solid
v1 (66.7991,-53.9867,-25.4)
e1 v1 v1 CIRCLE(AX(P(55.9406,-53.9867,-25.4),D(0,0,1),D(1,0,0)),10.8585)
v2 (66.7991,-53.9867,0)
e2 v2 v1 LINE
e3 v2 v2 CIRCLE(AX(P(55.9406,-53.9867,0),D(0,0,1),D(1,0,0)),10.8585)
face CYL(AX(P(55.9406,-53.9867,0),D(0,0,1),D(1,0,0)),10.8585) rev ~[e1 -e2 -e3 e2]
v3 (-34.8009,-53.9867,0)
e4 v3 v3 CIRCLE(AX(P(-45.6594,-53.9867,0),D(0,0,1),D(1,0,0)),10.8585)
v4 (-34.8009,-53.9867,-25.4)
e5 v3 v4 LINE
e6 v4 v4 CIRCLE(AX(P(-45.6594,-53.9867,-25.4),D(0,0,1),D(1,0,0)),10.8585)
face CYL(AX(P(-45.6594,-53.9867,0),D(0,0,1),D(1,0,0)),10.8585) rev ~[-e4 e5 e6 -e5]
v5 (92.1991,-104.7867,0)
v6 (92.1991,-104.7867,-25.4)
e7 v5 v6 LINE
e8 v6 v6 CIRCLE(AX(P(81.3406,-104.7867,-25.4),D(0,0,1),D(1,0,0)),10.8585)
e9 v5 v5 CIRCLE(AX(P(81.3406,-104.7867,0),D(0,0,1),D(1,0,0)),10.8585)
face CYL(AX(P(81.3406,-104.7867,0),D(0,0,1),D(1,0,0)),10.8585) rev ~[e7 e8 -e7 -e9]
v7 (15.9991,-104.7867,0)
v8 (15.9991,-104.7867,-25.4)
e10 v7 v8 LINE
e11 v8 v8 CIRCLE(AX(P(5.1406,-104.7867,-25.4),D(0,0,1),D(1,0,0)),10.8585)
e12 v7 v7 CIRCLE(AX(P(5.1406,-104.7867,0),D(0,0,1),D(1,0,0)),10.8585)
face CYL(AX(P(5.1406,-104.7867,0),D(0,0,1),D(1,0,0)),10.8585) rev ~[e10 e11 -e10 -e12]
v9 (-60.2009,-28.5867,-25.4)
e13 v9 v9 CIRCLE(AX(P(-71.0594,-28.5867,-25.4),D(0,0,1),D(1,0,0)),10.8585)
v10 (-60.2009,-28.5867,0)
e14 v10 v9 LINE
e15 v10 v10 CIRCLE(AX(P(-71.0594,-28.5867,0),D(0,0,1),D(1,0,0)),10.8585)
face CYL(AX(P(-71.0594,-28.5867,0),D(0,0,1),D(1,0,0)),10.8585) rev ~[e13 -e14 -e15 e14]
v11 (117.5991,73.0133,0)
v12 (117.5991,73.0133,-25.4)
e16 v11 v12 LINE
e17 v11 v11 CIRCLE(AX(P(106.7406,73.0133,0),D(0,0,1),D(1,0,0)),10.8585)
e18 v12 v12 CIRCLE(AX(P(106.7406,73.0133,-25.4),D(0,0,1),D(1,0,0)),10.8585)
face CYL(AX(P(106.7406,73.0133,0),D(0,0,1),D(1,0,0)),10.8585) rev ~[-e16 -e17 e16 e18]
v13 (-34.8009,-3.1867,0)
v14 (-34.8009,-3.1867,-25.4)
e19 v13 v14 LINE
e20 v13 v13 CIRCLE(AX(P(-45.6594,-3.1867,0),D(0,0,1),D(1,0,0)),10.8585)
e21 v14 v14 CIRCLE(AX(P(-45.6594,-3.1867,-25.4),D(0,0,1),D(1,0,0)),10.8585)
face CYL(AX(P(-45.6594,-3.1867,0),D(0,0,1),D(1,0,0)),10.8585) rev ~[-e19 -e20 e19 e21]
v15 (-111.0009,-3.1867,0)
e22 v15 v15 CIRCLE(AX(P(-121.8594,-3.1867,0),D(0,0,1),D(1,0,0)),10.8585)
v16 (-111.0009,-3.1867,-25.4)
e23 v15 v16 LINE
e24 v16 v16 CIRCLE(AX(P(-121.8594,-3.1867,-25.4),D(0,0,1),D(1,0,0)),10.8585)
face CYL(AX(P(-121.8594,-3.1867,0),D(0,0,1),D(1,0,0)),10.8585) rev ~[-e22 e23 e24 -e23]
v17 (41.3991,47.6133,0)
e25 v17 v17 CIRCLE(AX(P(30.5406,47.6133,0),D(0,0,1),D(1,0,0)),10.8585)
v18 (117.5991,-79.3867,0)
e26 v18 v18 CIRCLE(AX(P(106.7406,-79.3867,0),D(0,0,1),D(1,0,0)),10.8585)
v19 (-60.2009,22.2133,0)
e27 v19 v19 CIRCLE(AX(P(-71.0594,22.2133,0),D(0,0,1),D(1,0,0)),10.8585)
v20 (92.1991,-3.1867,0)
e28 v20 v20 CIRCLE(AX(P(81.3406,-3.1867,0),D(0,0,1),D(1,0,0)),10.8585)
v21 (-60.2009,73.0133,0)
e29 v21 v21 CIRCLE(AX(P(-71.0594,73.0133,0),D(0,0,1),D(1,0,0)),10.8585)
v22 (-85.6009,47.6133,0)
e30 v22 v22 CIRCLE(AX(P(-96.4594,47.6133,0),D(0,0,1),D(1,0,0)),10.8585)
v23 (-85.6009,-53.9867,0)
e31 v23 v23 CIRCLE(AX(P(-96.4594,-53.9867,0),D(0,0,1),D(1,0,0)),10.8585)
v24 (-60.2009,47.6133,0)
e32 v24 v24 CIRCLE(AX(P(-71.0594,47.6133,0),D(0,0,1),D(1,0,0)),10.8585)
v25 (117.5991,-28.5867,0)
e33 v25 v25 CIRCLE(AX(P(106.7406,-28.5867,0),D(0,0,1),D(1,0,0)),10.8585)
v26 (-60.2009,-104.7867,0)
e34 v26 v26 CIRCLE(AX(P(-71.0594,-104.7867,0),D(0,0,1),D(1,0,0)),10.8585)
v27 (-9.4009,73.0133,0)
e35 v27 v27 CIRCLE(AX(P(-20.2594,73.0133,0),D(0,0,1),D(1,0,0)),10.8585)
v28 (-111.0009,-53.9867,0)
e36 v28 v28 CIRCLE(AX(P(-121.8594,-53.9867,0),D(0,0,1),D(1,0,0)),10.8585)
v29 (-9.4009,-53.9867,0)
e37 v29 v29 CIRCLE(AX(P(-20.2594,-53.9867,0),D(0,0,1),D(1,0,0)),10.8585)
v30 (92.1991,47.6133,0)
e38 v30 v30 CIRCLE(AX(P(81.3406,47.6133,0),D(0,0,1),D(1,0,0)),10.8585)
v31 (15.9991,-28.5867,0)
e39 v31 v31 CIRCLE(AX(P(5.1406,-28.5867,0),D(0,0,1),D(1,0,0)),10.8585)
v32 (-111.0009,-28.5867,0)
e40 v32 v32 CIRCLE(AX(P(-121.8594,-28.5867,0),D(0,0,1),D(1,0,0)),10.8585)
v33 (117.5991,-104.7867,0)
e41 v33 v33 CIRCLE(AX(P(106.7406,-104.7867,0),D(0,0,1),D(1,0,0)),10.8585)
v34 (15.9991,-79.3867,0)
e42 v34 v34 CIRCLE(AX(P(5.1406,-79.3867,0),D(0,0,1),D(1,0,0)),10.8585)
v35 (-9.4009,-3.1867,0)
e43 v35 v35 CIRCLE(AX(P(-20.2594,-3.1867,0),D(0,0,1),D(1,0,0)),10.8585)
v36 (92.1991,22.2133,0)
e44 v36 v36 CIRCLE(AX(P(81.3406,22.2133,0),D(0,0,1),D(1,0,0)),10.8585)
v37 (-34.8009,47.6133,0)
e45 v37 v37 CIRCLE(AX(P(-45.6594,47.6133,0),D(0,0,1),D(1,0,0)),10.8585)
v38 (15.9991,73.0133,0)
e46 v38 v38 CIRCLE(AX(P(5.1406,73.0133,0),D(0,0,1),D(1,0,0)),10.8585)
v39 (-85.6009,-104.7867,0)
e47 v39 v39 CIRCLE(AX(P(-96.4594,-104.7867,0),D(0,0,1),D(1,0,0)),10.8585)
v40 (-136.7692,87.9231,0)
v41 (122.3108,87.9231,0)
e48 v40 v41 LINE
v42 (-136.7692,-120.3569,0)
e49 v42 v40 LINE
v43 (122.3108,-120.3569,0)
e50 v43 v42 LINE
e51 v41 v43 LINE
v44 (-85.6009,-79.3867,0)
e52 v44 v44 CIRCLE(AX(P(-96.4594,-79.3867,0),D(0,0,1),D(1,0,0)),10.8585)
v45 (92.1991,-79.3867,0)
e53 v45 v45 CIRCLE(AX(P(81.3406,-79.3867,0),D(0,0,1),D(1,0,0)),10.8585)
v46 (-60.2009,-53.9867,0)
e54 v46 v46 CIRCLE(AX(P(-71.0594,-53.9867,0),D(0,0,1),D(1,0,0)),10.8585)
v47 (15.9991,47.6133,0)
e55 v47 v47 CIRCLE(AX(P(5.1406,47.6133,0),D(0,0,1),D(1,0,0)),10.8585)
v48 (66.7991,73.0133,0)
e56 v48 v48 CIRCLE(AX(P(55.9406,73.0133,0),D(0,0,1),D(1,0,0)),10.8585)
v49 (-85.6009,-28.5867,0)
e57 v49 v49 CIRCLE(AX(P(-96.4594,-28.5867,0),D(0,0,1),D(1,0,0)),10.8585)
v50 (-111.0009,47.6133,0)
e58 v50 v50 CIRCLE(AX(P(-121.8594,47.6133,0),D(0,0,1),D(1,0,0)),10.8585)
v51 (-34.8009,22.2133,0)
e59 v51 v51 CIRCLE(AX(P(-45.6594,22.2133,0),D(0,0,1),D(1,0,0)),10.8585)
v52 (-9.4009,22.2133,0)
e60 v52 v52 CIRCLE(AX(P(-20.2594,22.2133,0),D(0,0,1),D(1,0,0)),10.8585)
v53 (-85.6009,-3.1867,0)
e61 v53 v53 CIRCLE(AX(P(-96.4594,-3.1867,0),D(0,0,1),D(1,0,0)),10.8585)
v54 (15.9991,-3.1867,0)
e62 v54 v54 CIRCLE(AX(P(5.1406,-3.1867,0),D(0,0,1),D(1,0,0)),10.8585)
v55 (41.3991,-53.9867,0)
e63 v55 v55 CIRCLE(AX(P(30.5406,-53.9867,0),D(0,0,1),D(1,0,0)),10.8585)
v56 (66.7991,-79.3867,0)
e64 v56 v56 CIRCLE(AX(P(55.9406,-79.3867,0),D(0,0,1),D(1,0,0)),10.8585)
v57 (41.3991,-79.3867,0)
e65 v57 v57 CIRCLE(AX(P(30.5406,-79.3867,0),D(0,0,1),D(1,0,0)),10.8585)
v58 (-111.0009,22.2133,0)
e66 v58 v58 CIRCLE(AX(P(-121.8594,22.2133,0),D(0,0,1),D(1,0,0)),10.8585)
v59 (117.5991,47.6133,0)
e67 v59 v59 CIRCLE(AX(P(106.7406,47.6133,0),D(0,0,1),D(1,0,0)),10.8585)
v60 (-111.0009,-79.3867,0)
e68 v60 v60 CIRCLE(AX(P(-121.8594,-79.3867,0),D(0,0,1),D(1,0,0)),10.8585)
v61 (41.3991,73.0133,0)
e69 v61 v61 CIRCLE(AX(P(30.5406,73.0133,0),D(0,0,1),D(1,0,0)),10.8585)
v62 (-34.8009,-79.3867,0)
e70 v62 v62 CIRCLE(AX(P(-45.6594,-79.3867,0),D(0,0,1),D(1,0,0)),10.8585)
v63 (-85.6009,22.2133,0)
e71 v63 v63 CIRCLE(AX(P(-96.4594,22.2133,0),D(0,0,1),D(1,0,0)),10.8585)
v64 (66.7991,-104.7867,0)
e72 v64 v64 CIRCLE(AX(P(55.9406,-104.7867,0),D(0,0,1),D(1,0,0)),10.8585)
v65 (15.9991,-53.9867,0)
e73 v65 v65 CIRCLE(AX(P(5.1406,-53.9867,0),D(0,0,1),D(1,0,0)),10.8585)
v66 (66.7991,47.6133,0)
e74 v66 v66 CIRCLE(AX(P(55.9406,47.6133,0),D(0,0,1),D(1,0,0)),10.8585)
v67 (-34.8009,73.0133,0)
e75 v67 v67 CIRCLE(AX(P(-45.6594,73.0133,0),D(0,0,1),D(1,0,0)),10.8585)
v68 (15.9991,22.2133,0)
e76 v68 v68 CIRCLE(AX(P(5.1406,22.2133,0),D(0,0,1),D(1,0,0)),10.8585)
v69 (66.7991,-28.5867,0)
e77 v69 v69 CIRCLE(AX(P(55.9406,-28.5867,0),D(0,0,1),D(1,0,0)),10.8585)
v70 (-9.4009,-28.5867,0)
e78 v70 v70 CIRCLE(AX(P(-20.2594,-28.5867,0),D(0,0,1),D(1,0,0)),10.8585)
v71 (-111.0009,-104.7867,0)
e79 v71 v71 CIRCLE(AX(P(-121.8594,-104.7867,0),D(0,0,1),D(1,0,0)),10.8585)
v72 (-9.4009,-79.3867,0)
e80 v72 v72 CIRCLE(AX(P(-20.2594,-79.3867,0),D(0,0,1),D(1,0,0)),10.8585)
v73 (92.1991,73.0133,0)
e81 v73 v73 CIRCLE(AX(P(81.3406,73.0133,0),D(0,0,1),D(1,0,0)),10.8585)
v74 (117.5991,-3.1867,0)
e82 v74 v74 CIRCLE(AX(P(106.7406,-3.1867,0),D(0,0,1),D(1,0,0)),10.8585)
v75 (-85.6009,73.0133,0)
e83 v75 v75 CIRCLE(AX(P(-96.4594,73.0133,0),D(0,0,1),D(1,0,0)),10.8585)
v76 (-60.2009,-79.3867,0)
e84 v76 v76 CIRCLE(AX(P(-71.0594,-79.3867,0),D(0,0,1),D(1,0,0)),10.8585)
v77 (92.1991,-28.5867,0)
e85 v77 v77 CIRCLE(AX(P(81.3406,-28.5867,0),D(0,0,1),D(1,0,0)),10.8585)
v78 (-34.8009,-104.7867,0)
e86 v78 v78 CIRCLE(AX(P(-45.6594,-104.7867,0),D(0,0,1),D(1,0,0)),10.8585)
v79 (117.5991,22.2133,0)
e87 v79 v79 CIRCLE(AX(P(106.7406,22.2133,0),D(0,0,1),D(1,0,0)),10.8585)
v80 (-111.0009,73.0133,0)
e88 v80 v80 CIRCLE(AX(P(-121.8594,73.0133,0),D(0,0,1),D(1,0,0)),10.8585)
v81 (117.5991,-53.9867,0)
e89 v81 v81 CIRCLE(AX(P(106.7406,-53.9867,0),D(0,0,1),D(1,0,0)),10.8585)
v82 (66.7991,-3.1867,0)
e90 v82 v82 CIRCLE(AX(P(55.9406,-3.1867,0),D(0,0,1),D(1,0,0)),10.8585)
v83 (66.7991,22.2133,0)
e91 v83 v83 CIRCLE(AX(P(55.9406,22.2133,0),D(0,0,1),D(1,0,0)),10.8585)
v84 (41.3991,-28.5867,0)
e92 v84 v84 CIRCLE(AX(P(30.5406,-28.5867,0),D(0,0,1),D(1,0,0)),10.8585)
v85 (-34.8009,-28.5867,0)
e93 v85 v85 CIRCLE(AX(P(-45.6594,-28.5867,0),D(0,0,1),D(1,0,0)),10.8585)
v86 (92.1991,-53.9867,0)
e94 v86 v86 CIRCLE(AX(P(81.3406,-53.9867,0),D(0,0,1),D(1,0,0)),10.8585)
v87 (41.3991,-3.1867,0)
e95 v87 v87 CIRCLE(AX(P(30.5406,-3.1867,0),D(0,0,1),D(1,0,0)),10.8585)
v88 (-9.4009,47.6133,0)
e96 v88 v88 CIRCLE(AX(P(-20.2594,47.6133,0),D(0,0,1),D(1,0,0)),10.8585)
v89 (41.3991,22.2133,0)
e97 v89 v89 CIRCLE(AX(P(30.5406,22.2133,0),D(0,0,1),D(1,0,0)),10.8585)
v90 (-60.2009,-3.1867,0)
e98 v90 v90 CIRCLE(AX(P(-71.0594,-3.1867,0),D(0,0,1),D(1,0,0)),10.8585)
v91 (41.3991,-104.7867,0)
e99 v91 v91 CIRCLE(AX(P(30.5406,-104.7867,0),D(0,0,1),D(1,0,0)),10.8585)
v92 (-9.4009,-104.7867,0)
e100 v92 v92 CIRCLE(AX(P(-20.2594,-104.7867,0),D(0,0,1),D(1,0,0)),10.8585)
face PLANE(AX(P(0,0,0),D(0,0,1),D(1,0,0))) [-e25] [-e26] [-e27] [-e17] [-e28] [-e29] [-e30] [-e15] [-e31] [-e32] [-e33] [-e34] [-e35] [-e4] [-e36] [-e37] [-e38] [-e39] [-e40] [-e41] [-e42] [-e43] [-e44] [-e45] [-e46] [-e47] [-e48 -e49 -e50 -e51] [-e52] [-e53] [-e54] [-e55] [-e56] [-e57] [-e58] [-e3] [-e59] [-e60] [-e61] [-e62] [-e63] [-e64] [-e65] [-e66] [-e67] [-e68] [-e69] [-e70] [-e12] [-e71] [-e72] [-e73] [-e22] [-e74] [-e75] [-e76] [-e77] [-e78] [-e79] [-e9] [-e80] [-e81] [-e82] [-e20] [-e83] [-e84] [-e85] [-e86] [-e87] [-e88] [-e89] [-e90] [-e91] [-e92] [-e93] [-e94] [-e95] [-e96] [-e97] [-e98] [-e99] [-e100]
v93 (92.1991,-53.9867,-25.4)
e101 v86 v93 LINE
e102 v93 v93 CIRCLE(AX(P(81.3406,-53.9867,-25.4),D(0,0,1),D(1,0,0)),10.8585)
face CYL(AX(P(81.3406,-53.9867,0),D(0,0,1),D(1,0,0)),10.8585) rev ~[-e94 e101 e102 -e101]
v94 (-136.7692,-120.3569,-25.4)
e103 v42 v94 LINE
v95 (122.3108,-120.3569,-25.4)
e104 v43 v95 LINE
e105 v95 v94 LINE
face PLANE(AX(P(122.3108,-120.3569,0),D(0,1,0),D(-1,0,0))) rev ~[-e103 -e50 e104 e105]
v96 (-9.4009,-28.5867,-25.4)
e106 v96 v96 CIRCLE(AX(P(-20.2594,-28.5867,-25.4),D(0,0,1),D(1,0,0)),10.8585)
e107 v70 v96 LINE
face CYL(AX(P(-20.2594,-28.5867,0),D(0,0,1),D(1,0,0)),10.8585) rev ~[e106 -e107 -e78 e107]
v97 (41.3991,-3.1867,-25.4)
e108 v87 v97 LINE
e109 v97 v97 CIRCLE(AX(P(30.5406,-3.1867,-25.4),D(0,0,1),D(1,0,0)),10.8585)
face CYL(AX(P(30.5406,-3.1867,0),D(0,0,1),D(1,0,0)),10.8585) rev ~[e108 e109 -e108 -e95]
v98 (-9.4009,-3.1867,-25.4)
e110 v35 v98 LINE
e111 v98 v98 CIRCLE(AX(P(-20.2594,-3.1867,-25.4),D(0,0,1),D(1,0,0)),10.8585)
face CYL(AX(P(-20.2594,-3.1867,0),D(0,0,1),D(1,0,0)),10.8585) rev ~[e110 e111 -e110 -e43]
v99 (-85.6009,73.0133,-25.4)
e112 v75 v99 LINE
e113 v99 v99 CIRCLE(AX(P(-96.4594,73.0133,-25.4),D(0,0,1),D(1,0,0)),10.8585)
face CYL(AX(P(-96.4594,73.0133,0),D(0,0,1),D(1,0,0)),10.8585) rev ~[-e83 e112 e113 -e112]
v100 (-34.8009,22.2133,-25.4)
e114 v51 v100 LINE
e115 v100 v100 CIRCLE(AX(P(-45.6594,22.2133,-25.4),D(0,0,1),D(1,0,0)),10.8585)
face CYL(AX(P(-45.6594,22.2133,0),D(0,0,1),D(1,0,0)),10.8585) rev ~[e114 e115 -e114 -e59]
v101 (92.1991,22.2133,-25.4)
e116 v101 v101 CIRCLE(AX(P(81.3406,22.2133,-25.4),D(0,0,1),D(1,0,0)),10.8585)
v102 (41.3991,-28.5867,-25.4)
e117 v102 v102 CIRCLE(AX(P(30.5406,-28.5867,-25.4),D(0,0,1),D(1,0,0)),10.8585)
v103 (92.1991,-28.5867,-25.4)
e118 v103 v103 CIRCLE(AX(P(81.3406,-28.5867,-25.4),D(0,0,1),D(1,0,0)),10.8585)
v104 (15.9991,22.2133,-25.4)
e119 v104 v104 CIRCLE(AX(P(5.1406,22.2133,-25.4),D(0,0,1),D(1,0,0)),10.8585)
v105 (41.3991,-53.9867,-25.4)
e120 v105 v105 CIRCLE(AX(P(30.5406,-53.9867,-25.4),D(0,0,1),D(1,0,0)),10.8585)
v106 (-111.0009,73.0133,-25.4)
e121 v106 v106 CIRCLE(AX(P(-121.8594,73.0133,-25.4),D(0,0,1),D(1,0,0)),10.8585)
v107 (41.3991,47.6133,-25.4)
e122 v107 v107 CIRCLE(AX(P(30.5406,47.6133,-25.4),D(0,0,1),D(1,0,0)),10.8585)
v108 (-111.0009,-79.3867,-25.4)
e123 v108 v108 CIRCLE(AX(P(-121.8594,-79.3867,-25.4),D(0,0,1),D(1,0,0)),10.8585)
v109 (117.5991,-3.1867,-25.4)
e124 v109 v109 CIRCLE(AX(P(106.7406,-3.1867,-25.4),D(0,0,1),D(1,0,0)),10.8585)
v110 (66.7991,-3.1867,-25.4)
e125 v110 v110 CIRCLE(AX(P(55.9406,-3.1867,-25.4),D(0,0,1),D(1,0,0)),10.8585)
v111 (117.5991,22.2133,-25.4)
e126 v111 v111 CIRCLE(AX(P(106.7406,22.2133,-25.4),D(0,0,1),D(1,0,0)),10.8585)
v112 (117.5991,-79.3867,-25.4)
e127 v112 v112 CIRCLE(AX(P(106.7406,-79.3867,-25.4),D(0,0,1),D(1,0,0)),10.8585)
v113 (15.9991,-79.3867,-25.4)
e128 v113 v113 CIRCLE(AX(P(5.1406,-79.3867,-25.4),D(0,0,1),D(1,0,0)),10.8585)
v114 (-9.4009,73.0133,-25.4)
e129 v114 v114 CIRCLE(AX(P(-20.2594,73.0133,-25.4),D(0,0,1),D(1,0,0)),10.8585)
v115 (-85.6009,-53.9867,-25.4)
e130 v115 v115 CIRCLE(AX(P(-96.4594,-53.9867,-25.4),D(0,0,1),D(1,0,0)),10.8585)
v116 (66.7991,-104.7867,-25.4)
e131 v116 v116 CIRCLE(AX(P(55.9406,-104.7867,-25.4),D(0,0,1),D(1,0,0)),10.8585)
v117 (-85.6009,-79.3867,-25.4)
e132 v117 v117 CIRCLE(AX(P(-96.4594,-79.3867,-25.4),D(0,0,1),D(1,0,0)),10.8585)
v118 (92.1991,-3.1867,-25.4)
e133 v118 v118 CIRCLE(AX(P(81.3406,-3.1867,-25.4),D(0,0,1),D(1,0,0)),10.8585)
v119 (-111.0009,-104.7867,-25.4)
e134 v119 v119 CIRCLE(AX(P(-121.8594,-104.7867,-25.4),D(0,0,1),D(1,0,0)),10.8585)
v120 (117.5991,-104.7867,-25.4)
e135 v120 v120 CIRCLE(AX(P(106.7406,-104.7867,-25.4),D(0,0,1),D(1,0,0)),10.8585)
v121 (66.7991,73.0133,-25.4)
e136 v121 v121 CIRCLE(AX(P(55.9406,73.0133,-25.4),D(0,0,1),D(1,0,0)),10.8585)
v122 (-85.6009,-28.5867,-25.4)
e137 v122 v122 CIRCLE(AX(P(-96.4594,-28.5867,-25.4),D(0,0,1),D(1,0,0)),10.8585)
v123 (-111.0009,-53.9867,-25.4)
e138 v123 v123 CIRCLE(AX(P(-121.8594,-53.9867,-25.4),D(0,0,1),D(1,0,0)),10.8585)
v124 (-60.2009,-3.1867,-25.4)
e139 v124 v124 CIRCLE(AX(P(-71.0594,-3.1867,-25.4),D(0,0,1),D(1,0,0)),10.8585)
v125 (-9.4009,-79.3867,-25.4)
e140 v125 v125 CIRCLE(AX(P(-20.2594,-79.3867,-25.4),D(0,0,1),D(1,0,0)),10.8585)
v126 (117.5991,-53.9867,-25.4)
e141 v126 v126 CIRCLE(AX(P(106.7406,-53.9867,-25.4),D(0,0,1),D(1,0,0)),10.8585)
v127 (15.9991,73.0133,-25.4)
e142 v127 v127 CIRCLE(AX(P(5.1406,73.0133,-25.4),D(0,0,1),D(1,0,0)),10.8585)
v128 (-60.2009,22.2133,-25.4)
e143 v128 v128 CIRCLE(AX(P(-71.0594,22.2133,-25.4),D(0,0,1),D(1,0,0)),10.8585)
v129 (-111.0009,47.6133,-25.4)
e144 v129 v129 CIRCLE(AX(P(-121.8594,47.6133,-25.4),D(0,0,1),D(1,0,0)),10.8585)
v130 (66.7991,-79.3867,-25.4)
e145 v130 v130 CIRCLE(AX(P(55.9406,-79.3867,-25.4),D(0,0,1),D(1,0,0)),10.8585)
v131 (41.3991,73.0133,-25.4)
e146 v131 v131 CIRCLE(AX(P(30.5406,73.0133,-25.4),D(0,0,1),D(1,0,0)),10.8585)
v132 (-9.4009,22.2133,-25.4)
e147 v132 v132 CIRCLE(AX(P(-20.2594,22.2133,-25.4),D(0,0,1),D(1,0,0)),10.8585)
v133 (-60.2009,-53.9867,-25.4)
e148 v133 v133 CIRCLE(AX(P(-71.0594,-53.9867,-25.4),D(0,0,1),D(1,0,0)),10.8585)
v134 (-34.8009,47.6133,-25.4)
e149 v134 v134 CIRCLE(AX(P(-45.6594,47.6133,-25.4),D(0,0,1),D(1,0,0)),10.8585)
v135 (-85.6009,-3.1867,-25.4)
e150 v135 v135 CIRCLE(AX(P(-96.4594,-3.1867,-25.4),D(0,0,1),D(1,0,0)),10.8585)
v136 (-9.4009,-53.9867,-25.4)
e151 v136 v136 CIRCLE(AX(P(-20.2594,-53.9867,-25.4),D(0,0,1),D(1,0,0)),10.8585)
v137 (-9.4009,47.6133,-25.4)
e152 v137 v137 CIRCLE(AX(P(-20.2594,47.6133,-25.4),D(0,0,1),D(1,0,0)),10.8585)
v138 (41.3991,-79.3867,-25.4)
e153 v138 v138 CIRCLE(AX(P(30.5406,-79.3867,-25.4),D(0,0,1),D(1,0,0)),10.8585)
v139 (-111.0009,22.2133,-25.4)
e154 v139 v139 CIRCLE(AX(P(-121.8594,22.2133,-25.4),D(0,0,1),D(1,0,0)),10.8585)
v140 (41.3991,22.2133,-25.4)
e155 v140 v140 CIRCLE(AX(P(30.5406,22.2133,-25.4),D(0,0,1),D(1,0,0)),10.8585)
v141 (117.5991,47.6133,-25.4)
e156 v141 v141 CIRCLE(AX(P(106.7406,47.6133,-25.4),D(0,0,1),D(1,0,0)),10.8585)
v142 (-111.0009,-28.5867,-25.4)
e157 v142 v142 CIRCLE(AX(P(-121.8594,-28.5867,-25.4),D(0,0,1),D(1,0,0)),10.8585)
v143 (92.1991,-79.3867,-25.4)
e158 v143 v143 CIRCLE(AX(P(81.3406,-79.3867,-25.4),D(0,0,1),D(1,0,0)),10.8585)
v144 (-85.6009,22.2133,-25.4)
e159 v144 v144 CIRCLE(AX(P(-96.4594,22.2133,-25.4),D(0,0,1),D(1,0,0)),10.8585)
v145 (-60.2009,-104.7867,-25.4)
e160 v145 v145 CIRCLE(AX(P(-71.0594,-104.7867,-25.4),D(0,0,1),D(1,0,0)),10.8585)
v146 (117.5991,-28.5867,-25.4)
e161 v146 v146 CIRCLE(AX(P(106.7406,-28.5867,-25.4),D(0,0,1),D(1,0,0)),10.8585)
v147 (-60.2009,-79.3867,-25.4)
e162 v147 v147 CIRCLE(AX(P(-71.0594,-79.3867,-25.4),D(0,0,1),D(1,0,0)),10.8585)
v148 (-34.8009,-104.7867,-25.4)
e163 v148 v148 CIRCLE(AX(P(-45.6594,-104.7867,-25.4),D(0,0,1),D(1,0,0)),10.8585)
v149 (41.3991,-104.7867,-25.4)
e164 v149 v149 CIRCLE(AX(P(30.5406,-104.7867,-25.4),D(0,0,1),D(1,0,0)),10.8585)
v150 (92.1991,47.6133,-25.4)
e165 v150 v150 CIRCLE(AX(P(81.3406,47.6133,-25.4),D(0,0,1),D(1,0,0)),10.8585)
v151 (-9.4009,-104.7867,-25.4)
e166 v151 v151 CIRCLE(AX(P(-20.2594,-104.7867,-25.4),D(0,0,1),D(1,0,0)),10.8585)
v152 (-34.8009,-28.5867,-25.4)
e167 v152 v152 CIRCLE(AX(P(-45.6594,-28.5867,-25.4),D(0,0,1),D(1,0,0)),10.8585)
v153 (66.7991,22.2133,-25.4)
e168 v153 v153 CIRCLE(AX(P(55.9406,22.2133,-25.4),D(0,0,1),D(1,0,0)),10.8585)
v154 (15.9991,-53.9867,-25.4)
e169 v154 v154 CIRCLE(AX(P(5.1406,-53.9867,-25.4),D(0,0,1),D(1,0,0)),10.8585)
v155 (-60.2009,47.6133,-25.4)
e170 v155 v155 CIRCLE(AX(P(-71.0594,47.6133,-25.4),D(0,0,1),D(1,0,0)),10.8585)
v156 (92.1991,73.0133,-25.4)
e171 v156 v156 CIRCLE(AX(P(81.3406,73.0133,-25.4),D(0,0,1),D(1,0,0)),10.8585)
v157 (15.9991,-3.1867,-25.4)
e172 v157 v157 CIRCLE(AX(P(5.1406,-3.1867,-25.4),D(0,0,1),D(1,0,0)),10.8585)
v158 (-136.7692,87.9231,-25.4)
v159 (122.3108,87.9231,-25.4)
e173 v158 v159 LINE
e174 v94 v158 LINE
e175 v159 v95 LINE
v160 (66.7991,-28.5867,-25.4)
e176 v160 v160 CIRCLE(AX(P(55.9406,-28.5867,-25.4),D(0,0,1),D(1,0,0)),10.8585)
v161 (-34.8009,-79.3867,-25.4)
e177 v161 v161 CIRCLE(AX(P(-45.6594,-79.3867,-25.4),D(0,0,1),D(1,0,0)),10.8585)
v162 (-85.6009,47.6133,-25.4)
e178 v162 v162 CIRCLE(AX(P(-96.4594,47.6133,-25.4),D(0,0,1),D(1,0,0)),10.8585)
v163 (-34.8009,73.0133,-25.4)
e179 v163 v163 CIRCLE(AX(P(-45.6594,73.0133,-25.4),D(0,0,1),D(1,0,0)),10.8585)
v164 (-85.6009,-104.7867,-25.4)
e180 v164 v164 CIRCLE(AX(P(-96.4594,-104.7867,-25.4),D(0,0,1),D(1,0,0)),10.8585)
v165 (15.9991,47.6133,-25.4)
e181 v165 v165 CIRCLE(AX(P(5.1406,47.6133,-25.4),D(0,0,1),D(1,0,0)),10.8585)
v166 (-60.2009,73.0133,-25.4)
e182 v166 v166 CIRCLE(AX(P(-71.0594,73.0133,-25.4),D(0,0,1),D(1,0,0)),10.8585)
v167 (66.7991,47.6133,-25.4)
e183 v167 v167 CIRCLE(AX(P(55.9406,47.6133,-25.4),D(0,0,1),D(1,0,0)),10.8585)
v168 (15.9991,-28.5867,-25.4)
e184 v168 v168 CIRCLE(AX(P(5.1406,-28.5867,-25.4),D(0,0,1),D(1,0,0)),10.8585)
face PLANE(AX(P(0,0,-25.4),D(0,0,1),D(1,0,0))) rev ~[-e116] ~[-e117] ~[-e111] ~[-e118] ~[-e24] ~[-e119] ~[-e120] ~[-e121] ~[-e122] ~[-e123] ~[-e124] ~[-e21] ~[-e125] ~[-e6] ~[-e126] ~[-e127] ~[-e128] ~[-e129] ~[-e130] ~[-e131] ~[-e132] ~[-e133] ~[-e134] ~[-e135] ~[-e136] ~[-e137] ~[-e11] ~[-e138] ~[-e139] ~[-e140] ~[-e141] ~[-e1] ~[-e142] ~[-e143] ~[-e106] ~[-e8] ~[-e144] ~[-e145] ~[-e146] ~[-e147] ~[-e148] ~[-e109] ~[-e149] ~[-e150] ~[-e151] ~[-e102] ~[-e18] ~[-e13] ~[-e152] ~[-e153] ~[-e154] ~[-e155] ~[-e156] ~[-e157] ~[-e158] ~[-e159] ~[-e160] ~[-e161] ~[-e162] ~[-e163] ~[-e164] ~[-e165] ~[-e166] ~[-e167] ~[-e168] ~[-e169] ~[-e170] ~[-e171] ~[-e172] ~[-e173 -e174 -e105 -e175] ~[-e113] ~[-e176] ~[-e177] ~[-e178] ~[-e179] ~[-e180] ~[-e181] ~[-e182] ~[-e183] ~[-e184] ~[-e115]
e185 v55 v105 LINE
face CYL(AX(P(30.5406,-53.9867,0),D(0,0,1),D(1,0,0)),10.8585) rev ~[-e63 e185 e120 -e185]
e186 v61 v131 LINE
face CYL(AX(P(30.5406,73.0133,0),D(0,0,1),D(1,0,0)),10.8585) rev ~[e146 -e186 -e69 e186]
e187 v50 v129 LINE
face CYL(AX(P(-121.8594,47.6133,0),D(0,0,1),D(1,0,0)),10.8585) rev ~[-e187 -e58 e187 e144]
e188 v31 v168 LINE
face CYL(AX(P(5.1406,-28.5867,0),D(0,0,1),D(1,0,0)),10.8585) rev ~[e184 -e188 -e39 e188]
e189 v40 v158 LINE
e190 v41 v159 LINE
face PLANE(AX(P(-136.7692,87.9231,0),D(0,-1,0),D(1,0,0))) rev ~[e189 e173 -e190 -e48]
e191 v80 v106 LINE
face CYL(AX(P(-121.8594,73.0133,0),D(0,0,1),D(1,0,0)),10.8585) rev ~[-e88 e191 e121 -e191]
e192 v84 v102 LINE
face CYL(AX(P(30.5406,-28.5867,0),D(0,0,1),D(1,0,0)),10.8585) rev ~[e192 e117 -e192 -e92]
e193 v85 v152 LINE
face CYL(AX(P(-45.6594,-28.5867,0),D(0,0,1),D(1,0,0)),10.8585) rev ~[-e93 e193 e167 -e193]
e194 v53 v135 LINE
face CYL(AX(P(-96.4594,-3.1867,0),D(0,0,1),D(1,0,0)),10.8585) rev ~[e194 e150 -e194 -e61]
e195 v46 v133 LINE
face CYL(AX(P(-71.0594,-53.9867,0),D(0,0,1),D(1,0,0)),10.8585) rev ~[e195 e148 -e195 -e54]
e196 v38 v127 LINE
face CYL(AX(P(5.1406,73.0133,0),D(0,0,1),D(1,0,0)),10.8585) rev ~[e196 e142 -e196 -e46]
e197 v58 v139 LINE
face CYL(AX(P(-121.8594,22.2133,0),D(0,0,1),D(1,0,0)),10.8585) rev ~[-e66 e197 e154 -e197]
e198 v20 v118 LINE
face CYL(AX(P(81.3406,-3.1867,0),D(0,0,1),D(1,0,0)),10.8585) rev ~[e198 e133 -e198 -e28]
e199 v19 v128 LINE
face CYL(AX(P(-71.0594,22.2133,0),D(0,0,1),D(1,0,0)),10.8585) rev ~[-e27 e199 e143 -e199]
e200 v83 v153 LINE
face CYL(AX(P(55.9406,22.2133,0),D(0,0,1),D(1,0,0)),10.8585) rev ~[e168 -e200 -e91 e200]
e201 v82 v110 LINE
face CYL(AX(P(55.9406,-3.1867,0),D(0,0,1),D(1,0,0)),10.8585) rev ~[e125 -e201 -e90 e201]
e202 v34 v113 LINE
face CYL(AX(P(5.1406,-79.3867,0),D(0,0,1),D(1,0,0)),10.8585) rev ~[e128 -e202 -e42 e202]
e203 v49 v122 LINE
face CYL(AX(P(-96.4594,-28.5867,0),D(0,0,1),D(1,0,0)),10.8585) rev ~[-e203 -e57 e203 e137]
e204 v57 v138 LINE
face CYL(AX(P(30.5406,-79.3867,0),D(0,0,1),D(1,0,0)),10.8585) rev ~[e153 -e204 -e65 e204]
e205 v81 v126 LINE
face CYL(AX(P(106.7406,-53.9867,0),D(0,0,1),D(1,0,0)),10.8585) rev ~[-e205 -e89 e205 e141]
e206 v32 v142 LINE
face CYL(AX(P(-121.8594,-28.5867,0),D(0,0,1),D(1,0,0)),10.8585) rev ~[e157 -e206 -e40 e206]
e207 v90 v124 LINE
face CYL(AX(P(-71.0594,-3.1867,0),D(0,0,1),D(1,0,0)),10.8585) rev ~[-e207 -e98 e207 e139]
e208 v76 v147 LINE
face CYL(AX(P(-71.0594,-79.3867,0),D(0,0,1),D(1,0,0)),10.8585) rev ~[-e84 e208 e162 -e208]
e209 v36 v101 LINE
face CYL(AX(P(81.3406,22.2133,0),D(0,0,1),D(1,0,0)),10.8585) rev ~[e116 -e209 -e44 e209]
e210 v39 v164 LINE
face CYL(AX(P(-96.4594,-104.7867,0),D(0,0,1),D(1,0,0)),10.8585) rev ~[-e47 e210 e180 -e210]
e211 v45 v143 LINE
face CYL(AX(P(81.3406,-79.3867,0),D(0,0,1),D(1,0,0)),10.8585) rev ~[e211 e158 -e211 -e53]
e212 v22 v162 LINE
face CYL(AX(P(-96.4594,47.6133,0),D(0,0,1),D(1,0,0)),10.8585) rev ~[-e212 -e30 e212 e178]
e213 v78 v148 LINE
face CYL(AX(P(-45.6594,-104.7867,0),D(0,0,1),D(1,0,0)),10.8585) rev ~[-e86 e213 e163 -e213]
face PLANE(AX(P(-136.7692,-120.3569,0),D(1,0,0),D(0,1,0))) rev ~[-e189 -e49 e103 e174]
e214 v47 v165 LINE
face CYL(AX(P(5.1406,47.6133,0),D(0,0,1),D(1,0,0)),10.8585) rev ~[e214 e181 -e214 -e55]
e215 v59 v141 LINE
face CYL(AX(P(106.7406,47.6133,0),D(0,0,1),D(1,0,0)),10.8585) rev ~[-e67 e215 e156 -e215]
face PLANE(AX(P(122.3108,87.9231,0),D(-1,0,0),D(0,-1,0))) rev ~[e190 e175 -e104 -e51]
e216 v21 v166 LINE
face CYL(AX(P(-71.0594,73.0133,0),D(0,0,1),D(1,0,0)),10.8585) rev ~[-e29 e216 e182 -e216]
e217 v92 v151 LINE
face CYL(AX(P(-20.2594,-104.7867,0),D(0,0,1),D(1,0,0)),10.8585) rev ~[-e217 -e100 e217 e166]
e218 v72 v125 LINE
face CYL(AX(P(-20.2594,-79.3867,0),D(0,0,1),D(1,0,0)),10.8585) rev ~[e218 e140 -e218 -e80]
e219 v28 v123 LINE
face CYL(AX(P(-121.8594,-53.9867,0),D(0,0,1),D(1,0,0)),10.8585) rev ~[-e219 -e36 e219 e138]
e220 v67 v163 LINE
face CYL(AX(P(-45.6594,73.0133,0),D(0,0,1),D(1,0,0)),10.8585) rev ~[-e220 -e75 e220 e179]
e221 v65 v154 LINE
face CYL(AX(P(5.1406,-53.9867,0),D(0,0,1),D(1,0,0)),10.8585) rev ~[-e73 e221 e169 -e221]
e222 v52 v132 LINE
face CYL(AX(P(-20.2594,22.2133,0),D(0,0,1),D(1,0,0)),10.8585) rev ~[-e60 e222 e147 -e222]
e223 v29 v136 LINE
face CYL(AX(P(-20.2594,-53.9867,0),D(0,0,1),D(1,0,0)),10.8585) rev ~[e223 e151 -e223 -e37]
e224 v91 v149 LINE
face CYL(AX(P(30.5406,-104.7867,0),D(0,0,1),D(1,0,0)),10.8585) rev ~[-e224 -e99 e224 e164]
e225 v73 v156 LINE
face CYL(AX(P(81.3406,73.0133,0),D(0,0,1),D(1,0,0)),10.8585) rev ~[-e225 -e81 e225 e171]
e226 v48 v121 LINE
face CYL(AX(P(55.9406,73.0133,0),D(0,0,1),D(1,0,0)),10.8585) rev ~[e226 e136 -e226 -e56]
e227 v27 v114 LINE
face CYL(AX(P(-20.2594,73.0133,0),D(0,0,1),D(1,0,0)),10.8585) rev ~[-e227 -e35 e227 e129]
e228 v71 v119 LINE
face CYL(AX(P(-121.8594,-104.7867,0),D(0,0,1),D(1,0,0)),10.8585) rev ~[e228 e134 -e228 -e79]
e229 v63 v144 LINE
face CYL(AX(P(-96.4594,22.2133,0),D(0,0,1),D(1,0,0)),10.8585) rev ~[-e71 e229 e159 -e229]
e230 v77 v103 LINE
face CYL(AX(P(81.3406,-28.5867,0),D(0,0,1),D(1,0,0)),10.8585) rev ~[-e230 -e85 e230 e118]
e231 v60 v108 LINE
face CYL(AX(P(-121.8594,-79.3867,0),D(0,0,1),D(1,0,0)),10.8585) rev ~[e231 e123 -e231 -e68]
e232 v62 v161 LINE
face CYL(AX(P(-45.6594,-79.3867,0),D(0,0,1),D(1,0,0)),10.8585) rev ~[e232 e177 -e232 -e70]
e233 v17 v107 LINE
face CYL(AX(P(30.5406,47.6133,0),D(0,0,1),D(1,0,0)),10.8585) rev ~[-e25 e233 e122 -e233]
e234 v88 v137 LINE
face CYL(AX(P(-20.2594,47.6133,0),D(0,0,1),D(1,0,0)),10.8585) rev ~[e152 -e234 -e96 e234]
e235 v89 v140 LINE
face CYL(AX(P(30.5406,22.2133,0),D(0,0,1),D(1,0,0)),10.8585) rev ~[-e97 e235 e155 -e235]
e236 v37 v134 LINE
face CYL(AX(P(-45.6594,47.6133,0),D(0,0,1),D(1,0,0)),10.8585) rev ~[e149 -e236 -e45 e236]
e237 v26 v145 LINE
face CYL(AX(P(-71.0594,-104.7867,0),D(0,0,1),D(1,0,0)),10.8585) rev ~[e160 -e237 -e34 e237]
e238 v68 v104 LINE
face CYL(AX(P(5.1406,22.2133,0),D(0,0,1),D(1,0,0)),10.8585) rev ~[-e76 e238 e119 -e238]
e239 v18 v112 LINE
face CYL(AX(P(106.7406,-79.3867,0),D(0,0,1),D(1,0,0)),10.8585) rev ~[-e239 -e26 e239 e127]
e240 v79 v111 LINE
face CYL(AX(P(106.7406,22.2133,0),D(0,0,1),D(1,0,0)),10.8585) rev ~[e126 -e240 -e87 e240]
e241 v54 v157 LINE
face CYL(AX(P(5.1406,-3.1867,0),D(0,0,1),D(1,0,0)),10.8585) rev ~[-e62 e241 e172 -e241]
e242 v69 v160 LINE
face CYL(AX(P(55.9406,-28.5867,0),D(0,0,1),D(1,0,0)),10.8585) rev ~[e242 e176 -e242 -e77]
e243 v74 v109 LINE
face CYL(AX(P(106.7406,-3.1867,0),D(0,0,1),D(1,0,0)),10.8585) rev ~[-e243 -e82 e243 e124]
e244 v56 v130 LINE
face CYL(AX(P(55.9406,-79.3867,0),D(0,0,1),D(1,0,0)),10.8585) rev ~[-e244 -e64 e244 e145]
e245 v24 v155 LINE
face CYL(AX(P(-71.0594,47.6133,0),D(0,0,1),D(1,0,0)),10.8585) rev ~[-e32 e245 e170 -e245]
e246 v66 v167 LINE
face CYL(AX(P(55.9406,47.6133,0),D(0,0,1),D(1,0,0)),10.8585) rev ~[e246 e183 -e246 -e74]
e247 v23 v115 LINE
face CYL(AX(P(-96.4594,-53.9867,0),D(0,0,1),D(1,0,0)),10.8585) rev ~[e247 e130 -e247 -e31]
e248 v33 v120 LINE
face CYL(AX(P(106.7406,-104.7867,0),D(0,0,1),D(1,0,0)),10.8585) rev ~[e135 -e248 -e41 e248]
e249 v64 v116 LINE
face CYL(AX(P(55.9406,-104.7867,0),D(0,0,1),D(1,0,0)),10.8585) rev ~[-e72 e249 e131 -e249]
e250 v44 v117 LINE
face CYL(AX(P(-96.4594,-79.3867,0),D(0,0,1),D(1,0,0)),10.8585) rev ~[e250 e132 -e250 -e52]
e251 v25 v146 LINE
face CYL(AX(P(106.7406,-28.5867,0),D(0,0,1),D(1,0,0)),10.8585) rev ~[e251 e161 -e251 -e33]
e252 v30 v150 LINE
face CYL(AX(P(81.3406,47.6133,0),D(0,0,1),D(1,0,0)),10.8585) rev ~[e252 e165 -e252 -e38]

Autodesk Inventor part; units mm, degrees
ref_plane "YZ Plane" through (0, 0, 0) normal (1, 0, 0) x (0, 1, 0)
ref_plane "XZ Plane" through (0, 0, 0) normal (0, 1, 0) x (-1, 0, 0)
ref_plane "XY Plane" through (0, 0, 0) normal (0, 0, 1) x (1, 0, 0)
sketch "Sketch1" plane through (0, 0, 0) normal (0, 0, 1) x (1, 0, 0)
  line L0 (-136.7692, 87.9231) -> (122.3108, 87.9231)
  line L1 (122.3108, 87.9231) -> (122.3108, -120.3569)
  line L2 (122.3108, -120.3569) -> (-136.7692, -120.3569)
  line L3 (-136.7692, -120.3569) -> (-136.7692, 87.9231)
  circle A0 centre (-121.8594, 73.0133) radius 10.8585
  circle A1 centre (-121.8594, 47.6133) radius 10.8585
  circle A2 centre (-121.8594, 22.2133) radius 10.8585
  circle A3 centre (-121.8594, -3.1867) radius 10.8585
  circle A4 centre (-121.8594, -28.5867) radius 10.8585
  circle A5 centre (-121.8594, -53.9867) radius 10.8585
  circle A6 centre (-121.8594, -79.3867) radius 10.8585
  circle A7 centre (-121.8594, -104.7867) radius 10.8585
  circle A8 centre (-96.4594, 73.0133) radius 10.8585
  circle A9 centre (-96.4594, 47.6133) radius 10.8585
  circle A10 centre (-96.4594, 22.2133) radius 10.8585
  circle A11 centre (-96.4594, -3.1867) radius 10.8585
  circle A12 centre (-96.4594, -28.5867) radius 10.8585
  circle A13 centre (-96.4594, -53.9867) radius 10.8585
  circle A14 centre (-96.4594, -79.3867) radius 10.8585
  circle A15 centre (-96.4594, -104.7867) radius 10.8585
  circle A16 centre (-71.0594, 73.0133) radius 10.8585
  circle A17 centre (-71.0594, 47.6133) radius 10.8585
  circle A18 centre (-71.0594, 22.2133) radius 10.8585
  circle A19 centre (-71.0594, -3.1867) radius 10.8585
  circle A20 centre (-71.0594, -28.5867) radius 10.8585
  circle A21 centre (-71.0594, -53.9867) radius 10.8585
  circle A22 centre (-71.0594, -79.3867) radius 10.8585
  circle A23 centre (-71.0594, -104.7867) radius 10.8585
  circle A24 centre (-45.6594, 73.0133) radius 10.8585
  circle A25 centre (-45.6594, 47.6133) radius 10.8585
  circle A26 centre (-45.6594, 22.2133) radius 10.8585
  circle A27 centre (-45.6594, -3.1867) radius 10.8585
  circle A28 centre (-45.6594, -28.5867) radius 10.8585
  circle A29 centre (-45.6594, -53.9867) radius 10.8585
  circle A30 centre (-45.6594, -79.3867) radius 10.8585
  circle A31 centre (-45.6594, -104.7867) radius 10.8585
  circle A32 centre (-20.2594, 73.0133) radius 10.8585
  circle A33 centre (-20.2594, 47.6133) radius 10.8585
  circle A34 centre (-20.2594, 22.2133) radius 10.8585
  circle A35 centre (-20.2594, -3.1867) radius 10.8585
  circle A36 centre (-20.2594, -28.5867) radius 10.8585
  circle A37 centre (-20.2594, -53.9867) radius 10.8585
  circle A38 centre (-20.2594, -79.3867) radius 10.8585
  circle A39 centre (-20.2594, -104.7867) radius 10.8585
  circle A40 centre (5.1406, 73.0133) radius 10.8585
  circle A41 centre (5.1406, 47.6133) radius 10.8585
  circle A42 centre (5.1406, 22.2133) radius 10.8585
  circle A43 centre (5.1406, -3.1867) radius 10.8585
  circle A44 centre (5.1406, -28.5867) radius 10.8585
  circle A45 centre (5.1406, -53.9867) radius 10.8585
  circle A46 centre (5.1406, -79.3867) radius 10.8585
  circle A47 centre (5.1406, -104.7867) radius 10.8585
  circle A48 centre (30.5406, 73.0133) radius 10.8585
  circle A49 centre (30.5406, 47.6133) radius 10.8585
  circle A50 centre (30.5406, 22.2133) radius 10.8585
  circle A51 centre (30.5406, -3.1867) radius 10.8585
  circle A52 centre (30.5406, -28.5867) radius 10.8585
  circle A53 centre (30.5406, -53.9867) radius 10.8585
  circle A54 centre (30.5406, -79.3867) radius 10.8585
  circle A55 centre (30.5406, -104.7867) radius 10.8585
  circle A56 centre (55.9406, 73.0133) radius 10.8585
  circle A57 centre (55.9406, 47.6133) radius 10.8585
  circle A58 centre (55.9406, 22.2133) radius 10.8585
  circle A59 centre (55.9406, -3.1867) radius 10.8585
  circle A60 centre (55.9406, -28.5867) radius 10.8585
  circle A61 centre (55.9406, -53.9867) radius 10.8585
  circle A62 centre (55.9406, -79.3867) radius 10.8585
  circle A63 centre (55.9406, -104.7867) radius 10.8585
  circle A64 centre (81.3406, 73.0133) radius 10.8585
  circle A65 centre (81.3406, 47.6133) radius 10.8585
  circle A66 centre (81.3406, 22.2133) radius 10.8585
  circle A67 centre (81.3406, -3.1867) radius 10.8585
  circle A68 centre (81.3406, -28.5867) radius 10.8585
  circle A69 centre (81.3406, -53.9867) radius 10.8585
  circle A70 centre (81.3406, -79.3867) radius 10.8585
  circle A71 centre (81.3406, -104.7867) radius 10.8585
  circle A72 centre (106.7406, 73.0133) radius 10.8585
  circle A73 centre (106.7406, 47.6133) radius 10.8585
  circle A74 centre (106.7406, 22.2133) radius 10.8585
  circle A75 centre (106.7406, -3.1867) radius 10.8585
  circle A76 centre (106.7406, -28.5867) radius 10.8585
  circle A77 centre (106.7406, -53.9867) radius 10.8585
  circle A78 centre (106.7406, -79.3867) radius 10.8585
  circle A79 centre (106.7406, -104.7867) radius 10.8585
  dimension "d0" = 259.08
  dimension "d6" = 25.4
  dimension "d9" = 25.4
  dimension "d12" = 208.28
  dimension "d28" = 21.717
extrude "Extrusion1" add sketch "Sketch1" against normal blind 25.4 contours L0 L1 L2 L3 | A0 | A1 | A2 | A3 | A4 | A5 | A6 | A7 | A8 | A9 | A10 | A11 | A12 | A13 | A14 | A15 | A16 | A17 | A18 | A19 | A20 | A21 | A22 | A23 | A24 | A25 | A26 | A27 | A28 | A29 | A30 | A31 | A32 | A33 | A34 | A35 | A36 | A37 | A38 | A39 | A40 | A41 | A42 | A43 | A44 | A45 | A46 | A47 | A48 | A49 | A50 | A51 | A52 | A53 | A54 | A55 | A56 | A57 | A58 | A59 | A60 | A61 | A62 | A63 | A64 | A65 | A66 | A67 | A68 | A69 | A70 | A71 | A72 | A73 | A74 | A75 | A76 | A77 | A78 | A79
sketch "Sketch2" plane through (0, 0, 0) normal (0, 0, 1) x (1, 0, 0)
  line L0 (-136.7692, -120.3569) -> (122.3108, -120.3569) projected
  line L1 (122.3108, -120.3569) -> (122.3108, 87.9231) projected
  line L2 (122.3108, 87.9231) -> (-136.7692, 87.9231) projected
  line L3 (-136.7692, 87.9231) -> (-136.7692, -120.3569) projected
  circle A0 centre (-121.8594, 73.0133) radius 10.8585
  circle A1 centre (-121.8594, 47.6133) radius 10.8585
  circle A2 centre (-121.8594, 22.2133) radius 10.8585
  circle A3 centre (-121.8594, -3.1867) radius 10.8585
  circle A4 centre (-121.8594, -28.5867) radius 10.8585
  circle A5 centre (-121.8594, -53.9867) radius 10.8585
  circle A6 centre (-121.8594, -79.3867) radius 10.8585
  circle A7 centre (-121.8594, -104.7867) radius 10.8585
  circle A8 centre (-96.4594, 73.0133) radius 10.8585
  circle A9 centre (-96.4594, 47.6133) radius 10.8585
  circle A10 centre (-96.4594, 22.2133) radius 10.8585
  circle A11 centre (-96.4594, -3.1867) radius 10.8585
  circle A12 centre (-96.4594, -28.5867) radius 10.8585
  circle A13 centre (-96.4594, -53.9867) radius 10.8585
  circle A14 centre (-96.4594, -79.3867) radius 10.8585
  circle A15 centre (-96.4594, -104.7867) radius 10.8585
  circle A16 centre (-71.0594, 73.0133) radius 10.8585
  circle A17 centre (-71.0594, 47.6133) radius 10.8585
  circle A18 centre (-71.0594, 22.2133) radius 10.8585
  circle A19 centre (-71.0594, -3.1867) radius 10.8585
  circle A20 centre (-71.0594, -28.5867) radius 10.8585
  circle A21 centre (-71.0594, -53.9867) radius 10.8585
  circle A22 centre (-71.0594, -79.3867) radius 10.8585
  circle A23 centre (-71.0594, -104.7867) radius 10.8585
  circle A24 centre (-45.6594, 73.0133) radius 10.8585
  circle A25 centre (-45.6594, 47.6133) radius 10.8585
  circle A26 centre (-45.6594, 22.2133) radius 10.8585
  circle A27 centre (-45.6594, -3.1867) radius 10.8585
  circle A28 centre (-45.6594, -28.5867) radius 10.8585
  circle A29 centre (-45.6594, -53.9867) radius 10.8585
  circle A30 centre (-45.6594, -79.3867) radius 10.8585
  circle A31 centre (-45.6594, -104.7867) radius 10.8585
  circle A32 centre (-20.2594, 73.0133) radius 10.8585
  circle A33 centre (-20.2594, 47.6133) radius 10.8585
  circle A34 centre (-20.2594, 22.2133) radius 10.8585
  circle A35 centre (-20.2594, -3.1867) radius 10.8585
  circle A36 centre (-20.2594, -28.5867) radius 10.8585
  circle A37 centre (-20.2594, -53.9867) radius 10.8585
  circle A38 centre (-20.2594, -79.3867) radius 10.8585
  circle A39 centre (-20.2594, -104.7867) radius 10.8585
  circle A40 centre (5.1406, 73.0133) radius 10.8585
  circle A41 centre (5.1406, 47.6133) radius 10.8585
  circle A42 centre (5.1406, 22.2133) radius 10.8585
  circle A43 centre (5.1406, -3.1867) radius 10.8585
  circle A44 centre (5.1406, -28.5867) radius 10.8585
  circle A45 centre (5.1406, -53.9867) radius 10.8585
  circle A46 centre (5.1406, -79.3867) radius 10.8585
  circle A47 centre (5.1406, -104.7867) radius 10.8585
  circle A48 centre (30.5406, 73.0133) radius 10.8585
  circle A49 centre (30.5406, 47.6133) radius 10.8585
  circle A50 centre (30.5406, 22.2133) radius 10.8585
  circle A51 centre (30.5406, -3.1867) radius 10.8585
  circle A52 centre (30.5406, -28.5867) radius 10.8585
  circle A53 centre (30.5406, -53.9867) radius 10.8585
  circle A54 centre (30.5406, -79.3867) radius 10.8585
  circle A55 centre (30.5406, -104.7867) radius 10.8585
  circle A56 centre (55.9406, 73.0133) radius 10.8585
  circle A57 centre (55.9406, 47.6133) radius 10.8585
  circle A58 centre (55.9406, 22.2133) radius 10.8585
  circle A59 centre (55.9406, -3.1867) radius 10.8585
  circle A60 centre (55.9406, -28.5867) radius 10.8585
  circle A61 centre (55.9406, -53.9867) radius 10.8585
  circle A62 centre (55.9406, -79.3867) radius 10.8585
  circle A63 centre (55.9406, -104.7867) radius 10.8585
  circle A64 centre (81.3406, 73.0133) radius 10.8585
  circle A65 centre (81.3406, 47.6133) radius 10.8585
  circle A66 centre (81.3406, 22.2133) radius 10.8585
  circle A67 centre (81.3406, -3.1867) radius 10.8585
  circle A68 centre (81.3406, -28.5867) radius 10.8585
  circle A69 centre (81.3406, -53.9867) radius 10.8585
  circle A70 centre (81.3406, -79.3867) radius 10.8585
  circle A71 centre (81.3406, -104.7867) radius 10.8585
  circle A72 centre (106.7406, 73.0133) radius 10.8585
  circle A73 centre (106.7406, 47.6133) radius 10.8585
  circle A74 centre (106.7406, 22.2133) radius 10.8585
  circle A75 centre (106.7406, -3.1867) radius 10.8585
  circle A76 centre (106.7406, -28.5867) radius 10.8585
  circle A77 centre (106.7406, -53.9867) radius 10.8585
  circle A78 centre (106.7406, -79.3867) radius 10.8585
  circle A79 centre (106.7406, -104.7867) radius 10.8585
  point P0 (0, 0)
  dimension "d15" = 14.9098
  dimension "d16" = 14.9098
  dimension "d17" = 21.717
  dimension "d20" = 25.4
  dimension "d23" = 25.4
extrude "Extrusion2" cut sketch "Sketch2" against normal through all contours A0 | A1 | A2 | A3 | A4 | A5 | A6 | A7 | A8 | A9 | A10 | A11 | A12 | A13 | A14 | A15 | A16 | A17 | A18 | A19 | A20 | A21 | A22 | A23 | A24 | A25 | A26 | A27 | A28 | A29 | A30 | A31 | A32 | A33 | A34 | A35 | A36 | A37 | A38 | A39 | A40 | A41 | A42 | A43 | A44 | A45 | A46 | A47 | A48 | A49 | A50 | A51 | A52 | A53 | A54 | A55 | A56 | A57 | A58 | A59 | A60 | A61 | A62 | A63 | A64 | A65 | A66 | A67 | A68 | A69 | A70 | A71 | A72 | A73 | A74 | A75 | A76 | A77 | A78 | A79
properties part number "FullCellGrid"
